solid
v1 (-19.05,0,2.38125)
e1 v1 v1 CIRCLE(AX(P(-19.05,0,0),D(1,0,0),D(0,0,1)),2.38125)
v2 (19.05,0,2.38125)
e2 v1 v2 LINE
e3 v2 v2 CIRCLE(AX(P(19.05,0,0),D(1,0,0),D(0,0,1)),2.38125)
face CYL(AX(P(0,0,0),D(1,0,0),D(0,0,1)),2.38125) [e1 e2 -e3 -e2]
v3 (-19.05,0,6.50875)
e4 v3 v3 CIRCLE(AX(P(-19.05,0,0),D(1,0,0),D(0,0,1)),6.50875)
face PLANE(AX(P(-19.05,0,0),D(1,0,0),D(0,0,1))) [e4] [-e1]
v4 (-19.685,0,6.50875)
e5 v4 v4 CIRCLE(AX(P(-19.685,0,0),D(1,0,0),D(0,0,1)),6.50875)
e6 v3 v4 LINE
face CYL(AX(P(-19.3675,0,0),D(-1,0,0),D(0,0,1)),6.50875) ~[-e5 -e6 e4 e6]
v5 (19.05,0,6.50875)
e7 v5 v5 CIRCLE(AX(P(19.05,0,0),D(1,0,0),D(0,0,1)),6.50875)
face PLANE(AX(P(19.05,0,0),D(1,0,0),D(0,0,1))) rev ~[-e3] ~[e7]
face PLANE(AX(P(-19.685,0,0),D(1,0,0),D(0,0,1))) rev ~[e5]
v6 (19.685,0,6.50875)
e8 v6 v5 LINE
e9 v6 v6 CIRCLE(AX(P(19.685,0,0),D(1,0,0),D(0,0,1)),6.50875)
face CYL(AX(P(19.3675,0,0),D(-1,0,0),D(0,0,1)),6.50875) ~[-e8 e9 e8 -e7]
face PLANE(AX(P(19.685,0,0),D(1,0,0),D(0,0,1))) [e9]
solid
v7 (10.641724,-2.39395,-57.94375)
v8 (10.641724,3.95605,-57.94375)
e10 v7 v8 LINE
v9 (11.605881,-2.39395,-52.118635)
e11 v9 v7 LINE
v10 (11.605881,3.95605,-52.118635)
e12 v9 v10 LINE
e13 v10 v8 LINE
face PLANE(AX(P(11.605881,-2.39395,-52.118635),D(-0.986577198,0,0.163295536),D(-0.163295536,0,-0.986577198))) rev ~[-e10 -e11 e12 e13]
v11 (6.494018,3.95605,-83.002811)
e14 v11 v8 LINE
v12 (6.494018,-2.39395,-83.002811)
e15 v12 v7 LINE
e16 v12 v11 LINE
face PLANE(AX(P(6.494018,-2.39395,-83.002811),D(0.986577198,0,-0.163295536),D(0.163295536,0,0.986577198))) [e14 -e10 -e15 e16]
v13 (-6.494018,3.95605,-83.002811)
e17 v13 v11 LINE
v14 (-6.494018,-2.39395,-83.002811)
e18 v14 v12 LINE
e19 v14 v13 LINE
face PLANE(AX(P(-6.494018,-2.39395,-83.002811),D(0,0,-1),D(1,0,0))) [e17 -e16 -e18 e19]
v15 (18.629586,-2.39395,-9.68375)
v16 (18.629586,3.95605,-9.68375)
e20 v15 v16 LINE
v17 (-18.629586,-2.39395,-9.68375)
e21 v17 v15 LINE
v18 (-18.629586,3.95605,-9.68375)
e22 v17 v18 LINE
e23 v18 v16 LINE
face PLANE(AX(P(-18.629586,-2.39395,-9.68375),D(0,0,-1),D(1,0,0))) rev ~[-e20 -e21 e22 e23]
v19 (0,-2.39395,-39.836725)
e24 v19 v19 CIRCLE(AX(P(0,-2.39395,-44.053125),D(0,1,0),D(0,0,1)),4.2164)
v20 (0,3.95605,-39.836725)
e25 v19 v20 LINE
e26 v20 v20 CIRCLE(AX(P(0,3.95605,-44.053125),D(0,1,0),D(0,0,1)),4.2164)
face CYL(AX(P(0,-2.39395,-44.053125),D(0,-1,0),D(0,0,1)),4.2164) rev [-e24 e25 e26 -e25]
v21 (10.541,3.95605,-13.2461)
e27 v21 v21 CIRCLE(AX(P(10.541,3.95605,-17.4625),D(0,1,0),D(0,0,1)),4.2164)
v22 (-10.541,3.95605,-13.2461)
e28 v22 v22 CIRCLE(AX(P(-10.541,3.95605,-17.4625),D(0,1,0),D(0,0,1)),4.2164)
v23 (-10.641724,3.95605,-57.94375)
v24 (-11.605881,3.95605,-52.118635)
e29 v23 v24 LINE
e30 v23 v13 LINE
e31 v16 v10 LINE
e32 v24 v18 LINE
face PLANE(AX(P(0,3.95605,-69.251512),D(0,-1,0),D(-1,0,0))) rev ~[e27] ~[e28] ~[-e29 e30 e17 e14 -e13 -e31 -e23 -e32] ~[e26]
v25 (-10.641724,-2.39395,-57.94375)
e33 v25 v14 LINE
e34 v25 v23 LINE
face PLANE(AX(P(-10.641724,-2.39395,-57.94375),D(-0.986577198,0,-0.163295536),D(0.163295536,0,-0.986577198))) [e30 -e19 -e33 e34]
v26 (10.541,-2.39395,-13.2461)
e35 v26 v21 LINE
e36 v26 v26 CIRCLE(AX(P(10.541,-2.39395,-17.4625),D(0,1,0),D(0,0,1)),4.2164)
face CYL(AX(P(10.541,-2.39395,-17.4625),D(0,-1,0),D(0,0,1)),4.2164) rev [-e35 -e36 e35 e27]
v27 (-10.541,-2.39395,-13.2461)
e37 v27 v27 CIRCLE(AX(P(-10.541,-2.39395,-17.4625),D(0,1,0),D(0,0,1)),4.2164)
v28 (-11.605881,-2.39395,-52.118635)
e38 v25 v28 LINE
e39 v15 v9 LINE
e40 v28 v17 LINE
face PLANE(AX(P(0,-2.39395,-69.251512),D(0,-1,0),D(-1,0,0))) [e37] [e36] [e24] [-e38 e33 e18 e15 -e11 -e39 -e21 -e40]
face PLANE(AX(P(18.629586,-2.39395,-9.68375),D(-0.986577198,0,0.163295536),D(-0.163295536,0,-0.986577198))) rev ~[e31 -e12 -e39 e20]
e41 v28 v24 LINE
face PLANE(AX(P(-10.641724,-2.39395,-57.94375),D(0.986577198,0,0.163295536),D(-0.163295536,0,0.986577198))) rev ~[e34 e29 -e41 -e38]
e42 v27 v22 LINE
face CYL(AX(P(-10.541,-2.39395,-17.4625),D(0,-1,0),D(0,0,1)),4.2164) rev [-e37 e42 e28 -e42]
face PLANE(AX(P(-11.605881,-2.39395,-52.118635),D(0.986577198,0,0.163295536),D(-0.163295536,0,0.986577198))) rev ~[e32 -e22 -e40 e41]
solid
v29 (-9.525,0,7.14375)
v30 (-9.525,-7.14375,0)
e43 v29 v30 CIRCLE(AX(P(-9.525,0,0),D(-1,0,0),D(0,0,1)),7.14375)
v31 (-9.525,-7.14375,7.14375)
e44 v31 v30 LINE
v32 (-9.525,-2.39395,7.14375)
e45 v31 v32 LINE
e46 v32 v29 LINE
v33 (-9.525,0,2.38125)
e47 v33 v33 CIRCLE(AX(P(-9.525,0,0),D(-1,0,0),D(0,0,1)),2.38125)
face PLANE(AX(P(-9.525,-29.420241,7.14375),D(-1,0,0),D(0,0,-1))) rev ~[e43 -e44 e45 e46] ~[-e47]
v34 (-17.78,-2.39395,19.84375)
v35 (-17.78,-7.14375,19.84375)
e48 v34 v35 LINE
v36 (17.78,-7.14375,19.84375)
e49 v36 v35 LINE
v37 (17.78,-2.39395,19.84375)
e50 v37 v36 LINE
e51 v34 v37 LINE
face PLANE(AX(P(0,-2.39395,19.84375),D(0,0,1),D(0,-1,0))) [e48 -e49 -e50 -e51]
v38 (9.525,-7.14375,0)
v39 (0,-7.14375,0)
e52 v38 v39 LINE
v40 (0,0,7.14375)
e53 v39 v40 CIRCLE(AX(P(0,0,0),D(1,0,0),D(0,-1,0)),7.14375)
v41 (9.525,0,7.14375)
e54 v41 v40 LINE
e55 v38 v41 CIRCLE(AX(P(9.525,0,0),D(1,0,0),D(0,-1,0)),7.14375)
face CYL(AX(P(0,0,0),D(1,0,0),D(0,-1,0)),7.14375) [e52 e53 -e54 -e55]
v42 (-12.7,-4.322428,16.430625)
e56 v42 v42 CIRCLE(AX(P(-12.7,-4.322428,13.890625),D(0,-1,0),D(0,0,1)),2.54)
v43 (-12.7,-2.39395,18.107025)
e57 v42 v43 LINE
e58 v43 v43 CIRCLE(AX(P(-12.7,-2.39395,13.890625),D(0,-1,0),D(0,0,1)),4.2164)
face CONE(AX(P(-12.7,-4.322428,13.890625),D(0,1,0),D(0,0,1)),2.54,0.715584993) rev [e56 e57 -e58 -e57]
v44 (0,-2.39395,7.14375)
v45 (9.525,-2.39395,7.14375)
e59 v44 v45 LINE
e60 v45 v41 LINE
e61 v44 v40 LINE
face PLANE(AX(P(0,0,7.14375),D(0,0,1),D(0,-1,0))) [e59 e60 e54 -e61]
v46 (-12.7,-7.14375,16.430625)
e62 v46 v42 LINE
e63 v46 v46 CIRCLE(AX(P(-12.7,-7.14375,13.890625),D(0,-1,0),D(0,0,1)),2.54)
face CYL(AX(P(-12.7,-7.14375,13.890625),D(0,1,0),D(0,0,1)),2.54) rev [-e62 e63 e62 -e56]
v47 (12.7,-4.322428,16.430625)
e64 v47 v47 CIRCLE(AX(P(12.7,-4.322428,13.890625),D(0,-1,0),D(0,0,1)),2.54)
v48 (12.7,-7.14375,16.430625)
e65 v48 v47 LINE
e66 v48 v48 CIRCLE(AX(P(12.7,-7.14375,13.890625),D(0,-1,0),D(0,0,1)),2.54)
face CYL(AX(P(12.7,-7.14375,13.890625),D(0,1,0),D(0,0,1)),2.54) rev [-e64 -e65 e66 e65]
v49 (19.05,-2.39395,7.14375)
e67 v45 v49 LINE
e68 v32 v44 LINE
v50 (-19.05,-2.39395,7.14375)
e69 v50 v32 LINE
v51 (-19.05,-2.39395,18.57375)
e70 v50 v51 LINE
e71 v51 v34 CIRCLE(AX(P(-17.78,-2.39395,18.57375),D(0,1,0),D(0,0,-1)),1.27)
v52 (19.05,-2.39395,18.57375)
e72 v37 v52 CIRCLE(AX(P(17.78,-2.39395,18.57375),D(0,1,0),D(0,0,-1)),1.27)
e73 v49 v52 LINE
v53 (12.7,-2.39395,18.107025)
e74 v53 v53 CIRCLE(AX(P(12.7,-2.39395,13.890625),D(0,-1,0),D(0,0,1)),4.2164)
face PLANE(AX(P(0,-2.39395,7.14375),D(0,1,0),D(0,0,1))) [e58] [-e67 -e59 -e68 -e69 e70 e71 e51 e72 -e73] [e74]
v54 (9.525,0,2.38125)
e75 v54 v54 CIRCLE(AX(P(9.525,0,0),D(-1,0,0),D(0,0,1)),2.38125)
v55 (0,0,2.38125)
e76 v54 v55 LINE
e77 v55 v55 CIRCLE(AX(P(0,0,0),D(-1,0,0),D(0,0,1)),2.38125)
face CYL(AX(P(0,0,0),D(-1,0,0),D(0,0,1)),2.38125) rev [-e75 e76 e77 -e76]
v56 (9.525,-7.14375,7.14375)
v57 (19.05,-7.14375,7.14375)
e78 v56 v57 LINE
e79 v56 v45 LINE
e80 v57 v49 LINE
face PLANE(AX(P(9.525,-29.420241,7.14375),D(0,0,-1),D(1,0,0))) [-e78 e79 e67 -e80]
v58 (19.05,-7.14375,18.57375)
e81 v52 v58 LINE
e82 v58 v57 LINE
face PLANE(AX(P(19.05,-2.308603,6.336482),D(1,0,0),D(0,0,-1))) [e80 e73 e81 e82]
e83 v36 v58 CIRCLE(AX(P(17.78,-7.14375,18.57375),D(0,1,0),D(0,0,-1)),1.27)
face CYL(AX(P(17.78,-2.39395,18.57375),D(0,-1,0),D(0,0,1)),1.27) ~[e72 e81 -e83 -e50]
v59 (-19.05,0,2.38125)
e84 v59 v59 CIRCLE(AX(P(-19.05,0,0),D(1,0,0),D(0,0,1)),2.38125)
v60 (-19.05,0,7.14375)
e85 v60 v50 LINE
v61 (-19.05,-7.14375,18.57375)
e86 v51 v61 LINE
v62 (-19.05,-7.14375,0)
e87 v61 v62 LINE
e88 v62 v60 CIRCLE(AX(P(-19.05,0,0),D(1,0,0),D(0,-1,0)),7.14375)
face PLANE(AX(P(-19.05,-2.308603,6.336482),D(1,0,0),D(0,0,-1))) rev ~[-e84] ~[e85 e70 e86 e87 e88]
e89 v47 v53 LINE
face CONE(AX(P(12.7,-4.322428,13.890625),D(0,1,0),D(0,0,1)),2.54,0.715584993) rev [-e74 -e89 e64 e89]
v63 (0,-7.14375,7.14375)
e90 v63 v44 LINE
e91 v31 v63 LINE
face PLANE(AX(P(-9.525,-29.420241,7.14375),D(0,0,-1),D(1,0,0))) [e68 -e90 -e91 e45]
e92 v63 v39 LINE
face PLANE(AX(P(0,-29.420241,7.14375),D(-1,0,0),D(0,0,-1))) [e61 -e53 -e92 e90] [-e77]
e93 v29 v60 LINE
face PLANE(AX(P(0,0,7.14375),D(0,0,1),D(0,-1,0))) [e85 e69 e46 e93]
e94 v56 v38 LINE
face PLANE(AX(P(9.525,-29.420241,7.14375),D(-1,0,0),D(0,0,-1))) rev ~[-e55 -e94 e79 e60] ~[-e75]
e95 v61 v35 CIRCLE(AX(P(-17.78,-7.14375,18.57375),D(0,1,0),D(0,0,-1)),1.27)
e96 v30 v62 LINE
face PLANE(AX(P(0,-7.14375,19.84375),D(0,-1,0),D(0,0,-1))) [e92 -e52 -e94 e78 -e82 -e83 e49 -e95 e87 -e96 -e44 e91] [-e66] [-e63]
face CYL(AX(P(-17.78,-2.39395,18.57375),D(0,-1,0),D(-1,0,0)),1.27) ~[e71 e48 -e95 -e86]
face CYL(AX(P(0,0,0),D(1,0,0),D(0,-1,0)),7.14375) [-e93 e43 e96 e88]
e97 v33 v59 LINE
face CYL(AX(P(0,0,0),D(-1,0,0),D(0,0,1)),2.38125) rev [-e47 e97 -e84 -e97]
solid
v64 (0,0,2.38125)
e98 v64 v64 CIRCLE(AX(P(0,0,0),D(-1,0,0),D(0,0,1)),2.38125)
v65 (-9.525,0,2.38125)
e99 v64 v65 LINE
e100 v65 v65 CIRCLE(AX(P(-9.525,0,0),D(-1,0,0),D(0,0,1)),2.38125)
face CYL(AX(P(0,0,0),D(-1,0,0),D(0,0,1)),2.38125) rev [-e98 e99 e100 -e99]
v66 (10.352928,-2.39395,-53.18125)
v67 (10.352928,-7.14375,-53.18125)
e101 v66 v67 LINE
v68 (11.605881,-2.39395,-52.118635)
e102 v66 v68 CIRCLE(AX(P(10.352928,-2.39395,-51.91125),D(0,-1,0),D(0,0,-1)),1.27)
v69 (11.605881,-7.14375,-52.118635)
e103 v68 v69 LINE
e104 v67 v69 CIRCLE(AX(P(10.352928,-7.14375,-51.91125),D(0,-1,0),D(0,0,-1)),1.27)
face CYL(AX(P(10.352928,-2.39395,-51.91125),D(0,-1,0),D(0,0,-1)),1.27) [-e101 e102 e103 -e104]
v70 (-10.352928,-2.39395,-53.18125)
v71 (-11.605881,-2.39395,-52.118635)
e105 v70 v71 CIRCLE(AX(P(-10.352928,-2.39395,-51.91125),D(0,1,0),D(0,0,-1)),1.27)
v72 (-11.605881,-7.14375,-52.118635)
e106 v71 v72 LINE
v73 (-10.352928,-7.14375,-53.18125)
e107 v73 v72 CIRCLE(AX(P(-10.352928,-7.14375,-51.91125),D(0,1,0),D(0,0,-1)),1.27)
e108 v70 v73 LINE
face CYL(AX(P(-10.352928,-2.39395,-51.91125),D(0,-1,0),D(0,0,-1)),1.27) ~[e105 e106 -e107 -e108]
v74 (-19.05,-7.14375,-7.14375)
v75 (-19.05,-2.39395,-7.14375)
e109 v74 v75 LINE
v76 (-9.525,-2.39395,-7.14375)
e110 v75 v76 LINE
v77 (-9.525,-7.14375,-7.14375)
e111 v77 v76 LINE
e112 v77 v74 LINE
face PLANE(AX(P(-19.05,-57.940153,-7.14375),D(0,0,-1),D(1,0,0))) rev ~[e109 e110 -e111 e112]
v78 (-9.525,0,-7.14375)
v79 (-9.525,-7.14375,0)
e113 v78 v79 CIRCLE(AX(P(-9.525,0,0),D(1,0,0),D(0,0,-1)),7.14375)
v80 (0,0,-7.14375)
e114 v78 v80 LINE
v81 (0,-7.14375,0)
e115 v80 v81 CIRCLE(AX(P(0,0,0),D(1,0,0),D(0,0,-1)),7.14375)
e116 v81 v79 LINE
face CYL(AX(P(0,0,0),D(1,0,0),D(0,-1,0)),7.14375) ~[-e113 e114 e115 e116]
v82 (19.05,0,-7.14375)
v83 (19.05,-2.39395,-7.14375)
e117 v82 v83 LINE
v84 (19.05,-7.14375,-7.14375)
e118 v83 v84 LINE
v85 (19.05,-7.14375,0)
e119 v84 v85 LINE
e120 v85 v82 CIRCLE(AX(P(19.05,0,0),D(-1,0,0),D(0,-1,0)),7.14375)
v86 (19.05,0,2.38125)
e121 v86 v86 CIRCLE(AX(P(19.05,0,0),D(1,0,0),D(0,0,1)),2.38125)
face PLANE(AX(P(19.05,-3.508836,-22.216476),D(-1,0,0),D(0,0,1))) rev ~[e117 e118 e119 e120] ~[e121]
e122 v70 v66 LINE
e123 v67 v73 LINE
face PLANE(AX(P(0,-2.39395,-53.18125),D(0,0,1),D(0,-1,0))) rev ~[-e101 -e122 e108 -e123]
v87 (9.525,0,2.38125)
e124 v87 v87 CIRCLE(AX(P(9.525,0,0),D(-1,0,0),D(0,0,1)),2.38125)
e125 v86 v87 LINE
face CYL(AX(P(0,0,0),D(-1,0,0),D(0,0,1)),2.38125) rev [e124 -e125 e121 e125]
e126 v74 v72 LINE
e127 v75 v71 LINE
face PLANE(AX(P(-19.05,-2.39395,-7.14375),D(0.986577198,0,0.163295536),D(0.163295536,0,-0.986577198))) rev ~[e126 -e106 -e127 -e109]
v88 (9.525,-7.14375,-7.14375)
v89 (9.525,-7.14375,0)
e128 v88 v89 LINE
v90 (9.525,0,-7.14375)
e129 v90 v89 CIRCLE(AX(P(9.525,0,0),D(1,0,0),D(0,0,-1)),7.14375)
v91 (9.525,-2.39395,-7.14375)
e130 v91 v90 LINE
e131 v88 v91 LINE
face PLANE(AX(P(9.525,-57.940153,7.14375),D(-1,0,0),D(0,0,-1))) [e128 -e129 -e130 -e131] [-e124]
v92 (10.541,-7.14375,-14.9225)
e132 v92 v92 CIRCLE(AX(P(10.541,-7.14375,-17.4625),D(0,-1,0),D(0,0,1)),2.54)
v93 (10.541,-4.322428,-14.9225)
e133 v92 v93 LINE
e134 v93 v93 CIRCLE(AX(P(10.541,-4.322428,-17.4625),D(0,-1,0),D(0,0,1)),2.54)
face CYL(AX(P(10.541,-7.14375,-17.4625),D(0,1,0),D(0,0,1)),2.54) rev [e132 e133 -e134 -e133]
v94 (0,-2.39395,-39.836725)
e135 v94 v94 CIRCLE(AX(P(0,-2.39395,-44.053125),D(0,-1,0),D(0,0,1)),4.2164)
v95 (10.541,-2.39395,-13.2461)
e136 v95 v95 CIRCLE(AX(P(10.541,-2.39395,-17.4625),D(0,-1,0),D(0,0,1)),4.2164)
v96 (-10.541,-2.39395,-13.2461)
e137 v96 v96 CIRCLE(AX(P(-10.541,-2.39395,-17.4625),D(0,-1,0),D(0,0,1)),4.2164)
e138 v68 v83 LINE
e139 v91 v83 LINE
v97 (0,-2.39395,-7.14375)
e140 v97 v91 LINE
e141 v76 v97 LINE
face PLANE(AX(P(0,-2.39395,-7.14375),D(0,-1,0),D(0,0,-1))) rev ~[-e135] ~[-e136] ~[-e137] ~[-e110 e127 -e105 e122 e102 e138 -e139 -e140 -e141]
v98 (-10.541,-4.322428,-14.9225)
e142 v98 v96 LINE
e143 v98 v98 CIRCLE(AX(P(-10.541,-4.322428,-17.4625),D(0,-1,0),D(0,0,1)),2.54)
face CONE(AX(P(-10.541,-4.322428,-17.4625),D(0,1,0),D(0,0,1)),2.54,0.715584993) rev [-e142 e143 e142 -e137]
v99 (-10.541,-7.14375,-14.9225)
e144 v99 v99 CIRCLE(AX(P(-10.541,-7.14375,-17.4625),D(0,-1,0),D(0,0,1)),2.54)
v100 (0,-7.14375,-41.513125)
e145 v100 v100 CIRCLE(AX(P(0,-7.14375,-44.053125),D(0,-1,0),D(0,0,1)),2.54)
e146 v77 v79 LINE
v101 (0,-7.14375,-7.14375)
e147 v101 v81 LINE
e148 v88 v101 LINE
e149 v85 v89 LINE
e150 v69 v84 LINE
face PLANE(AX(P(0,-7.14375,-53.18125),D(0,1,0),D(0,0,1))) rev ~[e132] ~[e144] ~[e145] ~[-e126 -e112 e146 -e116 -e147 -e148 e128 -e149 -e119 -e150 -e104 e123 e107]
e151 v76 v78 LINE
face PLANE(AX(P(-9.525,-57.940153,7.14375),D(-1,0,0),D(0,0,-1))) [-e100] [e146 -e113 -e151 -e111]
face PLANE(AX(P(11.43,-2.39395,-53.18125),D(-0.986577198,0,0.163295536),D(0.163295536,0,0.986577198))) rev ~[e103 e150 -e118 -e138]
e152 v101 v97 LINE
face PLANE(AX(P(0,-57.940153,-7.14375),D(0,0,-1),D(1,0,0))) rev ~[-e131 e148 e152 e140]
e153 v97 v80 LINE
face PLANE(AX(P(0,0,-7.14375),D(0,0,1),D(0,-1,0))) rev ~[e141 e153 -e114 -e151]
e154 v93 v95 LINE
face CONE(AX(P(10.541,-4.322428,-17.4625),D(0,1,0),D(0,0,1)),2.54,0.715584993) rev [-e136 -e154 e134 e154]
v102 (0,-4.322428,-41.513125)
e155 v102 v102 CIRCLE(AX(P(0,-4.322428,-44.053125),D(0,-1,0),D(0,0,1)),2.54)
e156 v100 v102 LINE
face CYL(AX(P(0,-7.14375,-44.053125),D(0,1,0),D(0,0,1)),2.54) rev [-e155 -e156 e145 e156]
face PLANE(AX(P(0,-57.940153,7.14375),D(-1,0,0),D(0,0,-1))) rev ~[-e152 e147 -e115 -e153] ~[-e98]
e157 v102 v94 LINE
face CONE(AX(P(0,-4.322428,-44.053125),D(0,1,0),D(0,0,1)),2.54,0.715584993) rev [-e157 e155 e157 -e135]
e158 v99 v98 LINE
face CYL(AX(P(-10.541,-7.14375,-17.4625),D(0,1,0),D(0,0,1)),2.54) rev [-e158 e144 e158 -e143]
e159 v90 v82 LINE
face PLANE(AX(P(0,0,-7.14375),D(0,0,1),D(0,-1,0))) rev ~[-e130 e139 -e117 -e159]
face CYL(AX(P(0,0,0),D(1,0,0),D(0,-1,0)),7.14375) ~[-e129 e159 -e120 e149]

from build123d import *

# Parameters (mm, degrees)
SKETCH1_R                                     = 2.38125
LEFT_LEAF_DEPTH                               = 19.05
CUT_EXTRUDE1_DEPTH                            = 29.420240642
CUT_EXTRUDE1_DEPTH_BACK                       = 29.420240642
SKETCH2_W                                     = 9.525
SKETCH2_H                                     = 14.2875
SKETCH3_R                                     = 2.38125
RIGHT_LEAF_DEPTH                              = 19.05
CUT_EXTRUDE2_DEPTH                            = 57.940152929
CUT_EXTRUDE2_DEPTH_BACK                       = 57.940152929
SKETCH9_W                                     = 9.525
SKETCH9_H                                     = 14.2875
SKETCH10_R                                    = 2.38125
EXTRUDE1_DEPTH                                = 19.05
CUT_EXTRUDE3_DEPTH                            = 58.289751028
FILLET1_R                                     = 1.27
FILLET2_R                                     = 1.27
CSK_FOR_8_FLAT_HEAD_MACHINE_SCREW1_AT_2_COUNT = 2
CSK_FOR_8_FLAT_HEAD_MACHINE_SCREW1_AT_2_PITCH = 28.603741344
CSK_FOR_8_FLAT_HEAD_MACHINE_SCREW1_AT_3_COUNT = 2
CSK_FOR_8_FLAT_HEAD_MACHINE_SCREW1_AT_3_PITCH = 28.603741344
CSK_FOR_8_FLAT_HEAD_MACHINE_SCREW1_AT_4_COUNT = 2
CSK_FOR_8_FLAT_HEAD_MACHINE_SCREW1_AT_4_PITCH = 59.319205693
CSK_FOR_8_FLAT_HEAD_MACHINE_SCREW1_AT_5_COUNT = 2
CSK_FOR_8_FLAT_HEAD_MACHINE_SCREW1_AT_5_PITCH = 59.319205693
SKETCH14_W                                    = 0.635
SKETCH14_H                                    = 6.50875
SKETCH15_R                                    = 4.2164
BOSS_EXTRUDE5_DEPTH                           = 6.35


with BuildPart() as part:
    # Sketch1 → Left Leaf (new, symmetric)
    with BuildSketch(Plane(origin=(0, 0, 0), x_dir=(0, 0, -1), z_dir=(1, 0, 0))):
        with BuildLine():
            Line((-7.14375, 0), (-7.14375, -2.39395))
            Line((-7.14375, -2.39395), (-19.84375, -2.39395))
            Line((-19.84375, -2.39395), (-19.84375, -7.14375))
            Line((-19.84375, -7.14375), (0, -7.14375))
            ThreePointArc((0, -7.14375), (5.051394068, 5.051394068), (-7.14375, 0))
        make_face()
        with Locations(Location((0, 0, 0), (0, 0, 180))):
            Circle(SKETCH1_R, mode=Mode.SUBTRACT)
    extrude(amount=LEFT_LEAF_DEPTH, both=True)

    # Sketch2 → Cut-Extrude1 (cut, two sides: drawn at the far end of the back side and taken through both)
    with BuildSketch(Plane(origin=(0, 0, 0), x_dir=(1, 0, 0), z_dir=(0, 1, 0)).offset(-CUT_EXTRUDE1_DEPTH_BACK)):
        with Locations((14.2875, 0)):
            Rectangle(SKETCH2_W, SKETCH2_H)
        with Locations((-4.7625, 0)):
            Rectangle(SKETCH2_W, SKETCH2_H)
    extrude(amount=CUT_EXTRUDE1_DEPTH + CUT_EXTRUDE1_DEPTH_BACK, mode=Mode.SUBTRACT)

    # Fillet1
    fillet1_edges = [part.edges().sort_by_distance(p)[0] for p in [
        (19.05, -4.76885, 19.84375),
        (-19.05, -4.76885, 19.84375),
    ]]
    fillet(fillet1_edges, radius=FILLET1_R)


with BuildPart() as body_2:
    # Sketch3 → Right Leaf (new, symmetric)
    with BuildSketch(Plane(origin=(0, 0, 0), x_dir=(0, 0, -1), z_dir=(1, 0, 0))):
        with BuildLine():
            Line((53.18125, -2.39395), (53.18125, -7.14375))
            Line((53.18125, -7.14375), (0, -7.14375))
            ThreePointArc((0, -7.14375), (-5.051394068, 5.051394068), (7.14375, 0))
            Line((7.14375, 0), (7.14375, -2.39395))
            Line((7.14375, -2.39395), (53.18125, -2.39395))
        make_face()
        with Locations(Location((0, 0, 0), (0, 0, 180))):
            Circle(SKETCH3_R, mode=Mode.SUBTRACT)
    extrude(amount=RIGHT_LEAF_DEPTH, both=True)

    # Sketch9 → Cut-Extrude2 (cut, two sides: drawn at the far end of the back side and taken through both)
    with BuildSketch(Plane(origin=(0, 0, 0), x_dir=(1, 0, 0), z_dir=(0, 1, 0)).offset(-CUT_EXTRUDE2_DEPTH_BACK)):
        with Locations((4.7625, 0)):
            Rectangle(SKETCH9_W, SKETCH9_H)
        with Locations((-14.2875, 0)):
            Rectangle(SKETCH9_W, SKETCH9_H)
    extrude(amount=CUT_EXTRUDE2_DEPTH + CUT_EXTRUDE2_DEPTH_BACK, mode=Mode.SUBTRACT)

    # Sketch13 → Cut-Extrude3 (cut, through all)
    with BuildSketch(Plane(origin=(0, -2.39395, 0), x_dir=(-1, 0, 0), z_dir=(0, 1, 0))):
        Polygon((19.05, -7.14375), (11.43, -53.18125), (-11.43, -53.18125), (-19.05, -7.14375), (-19.05, -66.077067612), (19.05, -66.077067612), align=None)
    extrude(amount=-CUT_EXTRUDE3_DEPTH, mode=Mode.SUBTRACT)

    # Fillet2
    fillet2_edges = [body_2.edges().sort_by_distance(p)[0] for p in [
        (11.43, -4.76885, -53.18125),
        (-11.43, -4.76885, -53.18125),
    ]]
    fillet(fillet2_edges, radius=FILLET2_R)

    # Sketch12 → CSK for #8 Flat Head Machine Screw1 (revolve, cut)
    with BuildSketch(Plane(origin=(0, -2.39395, -44.053125), x_dir=(0, 0, 1), z_dir=(1, 0, 0))):
        Polygon((0, 0), (0, 4.7498), (2.54, 4.7498), (2.54, 1.928477598), (4.2164, 0), align=None)
    csk_for_8_flat_head_machine_screw1 = revolve(axis=Axis((0, 3.95605, -44.053125), (0, -1, 0)), mode=Mode.SUBTRACT)

    # CSK for #8 Flat Head Machine Screw1 at 2: CSK for #8 Flat Head Machine Screw1 ×2
    with Locations(*[Vector(-0.3685182254001519, 0, 0.9296205234115278) * (i * CSK_FOR_8_FLAT_HEAD_MACHINE_SCREW1_AT_2_PITCH) for i in range(1, CSK_FOR_8_FLAT_HEAD_MACHINE_SCREW1_AT_2_COUNT)]):
        add(csk_for_8_flat_head_machine_screw1, mode=Mode.SUBTRACT)

    # CSK for #8 Flat Head Machine Screw1 at 3: CSK for #8 Flat Head Machine Screw1 ×2
    with Locations(*[Vector(0.3685182254001519, 0, 0.9296205234115278) * (i * CSK_FOR_8_FLAT_HEAD_MACHINE_SCREW1_AT_3_PITCH) for i in range(1, CSK_FOR_8_FLAT_HEAD_MACHINE_SCREW1_AT_3_COUNT)]):
        add(csk_for_8_flat_head_machine_screw1, mode=Mode.SUBTRACT)


with BuildPart() as body_3:
    # Sketch10 → Extrude1 (new, symmetric)
    with BuildSketch(Plane(origin=(0, 0, 0), x_dir=(0, 0, -1), z_dir=(1, 0, 0))):
        with Locations(Location((0, 0, 0), (0, 0, 180))):
            Circle(SKETCH10_R)
    extrude(amount=EXTRUDE1_DEPTH, both=True)

    # Sketch14 → Revolve1 (revolve)
    with BuildSketch(Plane(origin=(0, 0, 0), x_dir=(-1, 0, 0), z_dir=(0, 1, 0)), mode=Mode.PRIVATE) as revolve1_sk:
        with Locations((-19.3675, -3.254375)):
            Rectangle(SKETCH14_W, SKETCH14_H)
        with Locations((19.3675, -3.254375)):
            Rectangle(SKETCH14_W, SKETCH14_H)
    revolve(revolve1_sk.sketch.rotate(Axis((-19.05, 0, 0), (1, 0, 0)), 180), axis=Axis((-19.05, 0, 0), (1, 0, 0)))


with BuildPart() as part_1:
    add(part.part)

    # CSK for #8 Flat Head Machine Screw1 at 4: CSK for #8 Flat Head Machine Screw1 ×2
    with Locations(*[Vector(-0.21409592140700737, 0, 0.9768126414194713) * (i * CSK_FOR_8_FLAT_HEAD_MACHINE_SCREW1_AT_4_PITCH) for i in range(1, CSK_FOR_8_FLAT_HEAD_MACHINE_SCREW1_AT_4_COUNT)]):
        add(csk_for_8_flat_head_machine_screw1, mode=Mode.SUBTRACT)

    # CSK for #8 Flat Head Machine Screw1 at 5: CSK for #8 Flat Head Machine Screw1 ×2
    with Locations(*[Vector(0.21409592140700737, 0, 0.9768126414194713) * (i * CSK_FOR_8_FLAT_HEAD_MACHINE_SCREW1_AT_5_PITCH) for i in range(1, CSK_FOR_8_FLAT_HEAD_MACHINE_SCREW1_AT_5_COUNT)]):
        add(csk_for_8_flat_head_machine_screw1, mode=Mode.SUBTRACT)


with BuildPart() as body_4:
    # Sketch15 → Boss-Extrude5 (new body)
    # profile 1 of 3: a face of its own
    with BuildSketch(Plane(origin=(0, -2.39395, 0), x_dir=(1, 0, 0), z_dir=(0, 1, 0))):
        with BuildLine():
            Line((-18.629586207, 9.68375), (18.629586207, 9.68375))
            Line((18.629586207, 9.68375), (11.605881049, 52.118635331))
            ThreePointArc((11.605881049, 52.118635331), (11.174365963, 52.879826112), (10.352928007, 53.18125))
            Line((10.352928007, 53.18125), (-10.352928007, 53.18125))
            ThreePointArc((-10.352928007, 53.18125), (-11.174365963, 52.879826112), (-11.605881049, 52.118635331))
            Line((-11.605881049, 52.118635331), (-18.629586207, 9.68375))
        make_face()
        with Locations(Location((-10.541, 17.4625, 0), (0, 0, 270))):
            Circle(SKETCH15_R, mode=Mode.SUBTRACT)
        with Locations(Location((0, 44.053125, 0), (0, 0, 270))):
            Circle(SKETCH15_R, mode=Mode.SUBTRACT)
        with Locations(Location((10.541, 17.4625, 0), (0, 0, 270))):
            Circle(SKETCH15_R, mode=Mode.SUBTRACT)
    # profile 2 of 3: a face of its own
    with BuildSketch(Plane(origin=(0, -2.39395, 0), x_dir=(1, 0, 0), z_dir=(0, 1, 0))):
        with BuildLine():
            ThreePointArc((10.352928007, 53.18125), (11.174365963, 52.879826112), (11.605881049, 52.118635331))
            Line((11.605881049, 52.118635331), (10.641724138, 57.94375))
            Line((10.641724138, 57.94375), (-10.641724138, 57.94375))
            Line((-10.641724138, 57.94375), (-11.605881049, 52.118635331))
            ThreePointArc((-11.605881049, 52.118635331), (-11.174365963, 52.879826112), (-10.352928007, 53.18125))
            Line((-10.352928007, 53.18125), (10.352928007, 53.18125))
        make_face()
    # profile 3 of 3: a face of its own
    with BuildSketch(Plane(origin=(0, -2.39395, 0), x_dir=(1, 0, 0), z_dir=(0, 1, 0))):
        Polygon((-6.494017517, 83.002810832), (6.494017517, 83.002810832), (10.641724138, 57.94375), (-10.641724138, 57.94375), align=None)
    extrude(amount=BOSS_EXTRUDE5_DEPTH)


solid = Compound([body_2.part, body_3.part, part_1.part, body_4.part])
